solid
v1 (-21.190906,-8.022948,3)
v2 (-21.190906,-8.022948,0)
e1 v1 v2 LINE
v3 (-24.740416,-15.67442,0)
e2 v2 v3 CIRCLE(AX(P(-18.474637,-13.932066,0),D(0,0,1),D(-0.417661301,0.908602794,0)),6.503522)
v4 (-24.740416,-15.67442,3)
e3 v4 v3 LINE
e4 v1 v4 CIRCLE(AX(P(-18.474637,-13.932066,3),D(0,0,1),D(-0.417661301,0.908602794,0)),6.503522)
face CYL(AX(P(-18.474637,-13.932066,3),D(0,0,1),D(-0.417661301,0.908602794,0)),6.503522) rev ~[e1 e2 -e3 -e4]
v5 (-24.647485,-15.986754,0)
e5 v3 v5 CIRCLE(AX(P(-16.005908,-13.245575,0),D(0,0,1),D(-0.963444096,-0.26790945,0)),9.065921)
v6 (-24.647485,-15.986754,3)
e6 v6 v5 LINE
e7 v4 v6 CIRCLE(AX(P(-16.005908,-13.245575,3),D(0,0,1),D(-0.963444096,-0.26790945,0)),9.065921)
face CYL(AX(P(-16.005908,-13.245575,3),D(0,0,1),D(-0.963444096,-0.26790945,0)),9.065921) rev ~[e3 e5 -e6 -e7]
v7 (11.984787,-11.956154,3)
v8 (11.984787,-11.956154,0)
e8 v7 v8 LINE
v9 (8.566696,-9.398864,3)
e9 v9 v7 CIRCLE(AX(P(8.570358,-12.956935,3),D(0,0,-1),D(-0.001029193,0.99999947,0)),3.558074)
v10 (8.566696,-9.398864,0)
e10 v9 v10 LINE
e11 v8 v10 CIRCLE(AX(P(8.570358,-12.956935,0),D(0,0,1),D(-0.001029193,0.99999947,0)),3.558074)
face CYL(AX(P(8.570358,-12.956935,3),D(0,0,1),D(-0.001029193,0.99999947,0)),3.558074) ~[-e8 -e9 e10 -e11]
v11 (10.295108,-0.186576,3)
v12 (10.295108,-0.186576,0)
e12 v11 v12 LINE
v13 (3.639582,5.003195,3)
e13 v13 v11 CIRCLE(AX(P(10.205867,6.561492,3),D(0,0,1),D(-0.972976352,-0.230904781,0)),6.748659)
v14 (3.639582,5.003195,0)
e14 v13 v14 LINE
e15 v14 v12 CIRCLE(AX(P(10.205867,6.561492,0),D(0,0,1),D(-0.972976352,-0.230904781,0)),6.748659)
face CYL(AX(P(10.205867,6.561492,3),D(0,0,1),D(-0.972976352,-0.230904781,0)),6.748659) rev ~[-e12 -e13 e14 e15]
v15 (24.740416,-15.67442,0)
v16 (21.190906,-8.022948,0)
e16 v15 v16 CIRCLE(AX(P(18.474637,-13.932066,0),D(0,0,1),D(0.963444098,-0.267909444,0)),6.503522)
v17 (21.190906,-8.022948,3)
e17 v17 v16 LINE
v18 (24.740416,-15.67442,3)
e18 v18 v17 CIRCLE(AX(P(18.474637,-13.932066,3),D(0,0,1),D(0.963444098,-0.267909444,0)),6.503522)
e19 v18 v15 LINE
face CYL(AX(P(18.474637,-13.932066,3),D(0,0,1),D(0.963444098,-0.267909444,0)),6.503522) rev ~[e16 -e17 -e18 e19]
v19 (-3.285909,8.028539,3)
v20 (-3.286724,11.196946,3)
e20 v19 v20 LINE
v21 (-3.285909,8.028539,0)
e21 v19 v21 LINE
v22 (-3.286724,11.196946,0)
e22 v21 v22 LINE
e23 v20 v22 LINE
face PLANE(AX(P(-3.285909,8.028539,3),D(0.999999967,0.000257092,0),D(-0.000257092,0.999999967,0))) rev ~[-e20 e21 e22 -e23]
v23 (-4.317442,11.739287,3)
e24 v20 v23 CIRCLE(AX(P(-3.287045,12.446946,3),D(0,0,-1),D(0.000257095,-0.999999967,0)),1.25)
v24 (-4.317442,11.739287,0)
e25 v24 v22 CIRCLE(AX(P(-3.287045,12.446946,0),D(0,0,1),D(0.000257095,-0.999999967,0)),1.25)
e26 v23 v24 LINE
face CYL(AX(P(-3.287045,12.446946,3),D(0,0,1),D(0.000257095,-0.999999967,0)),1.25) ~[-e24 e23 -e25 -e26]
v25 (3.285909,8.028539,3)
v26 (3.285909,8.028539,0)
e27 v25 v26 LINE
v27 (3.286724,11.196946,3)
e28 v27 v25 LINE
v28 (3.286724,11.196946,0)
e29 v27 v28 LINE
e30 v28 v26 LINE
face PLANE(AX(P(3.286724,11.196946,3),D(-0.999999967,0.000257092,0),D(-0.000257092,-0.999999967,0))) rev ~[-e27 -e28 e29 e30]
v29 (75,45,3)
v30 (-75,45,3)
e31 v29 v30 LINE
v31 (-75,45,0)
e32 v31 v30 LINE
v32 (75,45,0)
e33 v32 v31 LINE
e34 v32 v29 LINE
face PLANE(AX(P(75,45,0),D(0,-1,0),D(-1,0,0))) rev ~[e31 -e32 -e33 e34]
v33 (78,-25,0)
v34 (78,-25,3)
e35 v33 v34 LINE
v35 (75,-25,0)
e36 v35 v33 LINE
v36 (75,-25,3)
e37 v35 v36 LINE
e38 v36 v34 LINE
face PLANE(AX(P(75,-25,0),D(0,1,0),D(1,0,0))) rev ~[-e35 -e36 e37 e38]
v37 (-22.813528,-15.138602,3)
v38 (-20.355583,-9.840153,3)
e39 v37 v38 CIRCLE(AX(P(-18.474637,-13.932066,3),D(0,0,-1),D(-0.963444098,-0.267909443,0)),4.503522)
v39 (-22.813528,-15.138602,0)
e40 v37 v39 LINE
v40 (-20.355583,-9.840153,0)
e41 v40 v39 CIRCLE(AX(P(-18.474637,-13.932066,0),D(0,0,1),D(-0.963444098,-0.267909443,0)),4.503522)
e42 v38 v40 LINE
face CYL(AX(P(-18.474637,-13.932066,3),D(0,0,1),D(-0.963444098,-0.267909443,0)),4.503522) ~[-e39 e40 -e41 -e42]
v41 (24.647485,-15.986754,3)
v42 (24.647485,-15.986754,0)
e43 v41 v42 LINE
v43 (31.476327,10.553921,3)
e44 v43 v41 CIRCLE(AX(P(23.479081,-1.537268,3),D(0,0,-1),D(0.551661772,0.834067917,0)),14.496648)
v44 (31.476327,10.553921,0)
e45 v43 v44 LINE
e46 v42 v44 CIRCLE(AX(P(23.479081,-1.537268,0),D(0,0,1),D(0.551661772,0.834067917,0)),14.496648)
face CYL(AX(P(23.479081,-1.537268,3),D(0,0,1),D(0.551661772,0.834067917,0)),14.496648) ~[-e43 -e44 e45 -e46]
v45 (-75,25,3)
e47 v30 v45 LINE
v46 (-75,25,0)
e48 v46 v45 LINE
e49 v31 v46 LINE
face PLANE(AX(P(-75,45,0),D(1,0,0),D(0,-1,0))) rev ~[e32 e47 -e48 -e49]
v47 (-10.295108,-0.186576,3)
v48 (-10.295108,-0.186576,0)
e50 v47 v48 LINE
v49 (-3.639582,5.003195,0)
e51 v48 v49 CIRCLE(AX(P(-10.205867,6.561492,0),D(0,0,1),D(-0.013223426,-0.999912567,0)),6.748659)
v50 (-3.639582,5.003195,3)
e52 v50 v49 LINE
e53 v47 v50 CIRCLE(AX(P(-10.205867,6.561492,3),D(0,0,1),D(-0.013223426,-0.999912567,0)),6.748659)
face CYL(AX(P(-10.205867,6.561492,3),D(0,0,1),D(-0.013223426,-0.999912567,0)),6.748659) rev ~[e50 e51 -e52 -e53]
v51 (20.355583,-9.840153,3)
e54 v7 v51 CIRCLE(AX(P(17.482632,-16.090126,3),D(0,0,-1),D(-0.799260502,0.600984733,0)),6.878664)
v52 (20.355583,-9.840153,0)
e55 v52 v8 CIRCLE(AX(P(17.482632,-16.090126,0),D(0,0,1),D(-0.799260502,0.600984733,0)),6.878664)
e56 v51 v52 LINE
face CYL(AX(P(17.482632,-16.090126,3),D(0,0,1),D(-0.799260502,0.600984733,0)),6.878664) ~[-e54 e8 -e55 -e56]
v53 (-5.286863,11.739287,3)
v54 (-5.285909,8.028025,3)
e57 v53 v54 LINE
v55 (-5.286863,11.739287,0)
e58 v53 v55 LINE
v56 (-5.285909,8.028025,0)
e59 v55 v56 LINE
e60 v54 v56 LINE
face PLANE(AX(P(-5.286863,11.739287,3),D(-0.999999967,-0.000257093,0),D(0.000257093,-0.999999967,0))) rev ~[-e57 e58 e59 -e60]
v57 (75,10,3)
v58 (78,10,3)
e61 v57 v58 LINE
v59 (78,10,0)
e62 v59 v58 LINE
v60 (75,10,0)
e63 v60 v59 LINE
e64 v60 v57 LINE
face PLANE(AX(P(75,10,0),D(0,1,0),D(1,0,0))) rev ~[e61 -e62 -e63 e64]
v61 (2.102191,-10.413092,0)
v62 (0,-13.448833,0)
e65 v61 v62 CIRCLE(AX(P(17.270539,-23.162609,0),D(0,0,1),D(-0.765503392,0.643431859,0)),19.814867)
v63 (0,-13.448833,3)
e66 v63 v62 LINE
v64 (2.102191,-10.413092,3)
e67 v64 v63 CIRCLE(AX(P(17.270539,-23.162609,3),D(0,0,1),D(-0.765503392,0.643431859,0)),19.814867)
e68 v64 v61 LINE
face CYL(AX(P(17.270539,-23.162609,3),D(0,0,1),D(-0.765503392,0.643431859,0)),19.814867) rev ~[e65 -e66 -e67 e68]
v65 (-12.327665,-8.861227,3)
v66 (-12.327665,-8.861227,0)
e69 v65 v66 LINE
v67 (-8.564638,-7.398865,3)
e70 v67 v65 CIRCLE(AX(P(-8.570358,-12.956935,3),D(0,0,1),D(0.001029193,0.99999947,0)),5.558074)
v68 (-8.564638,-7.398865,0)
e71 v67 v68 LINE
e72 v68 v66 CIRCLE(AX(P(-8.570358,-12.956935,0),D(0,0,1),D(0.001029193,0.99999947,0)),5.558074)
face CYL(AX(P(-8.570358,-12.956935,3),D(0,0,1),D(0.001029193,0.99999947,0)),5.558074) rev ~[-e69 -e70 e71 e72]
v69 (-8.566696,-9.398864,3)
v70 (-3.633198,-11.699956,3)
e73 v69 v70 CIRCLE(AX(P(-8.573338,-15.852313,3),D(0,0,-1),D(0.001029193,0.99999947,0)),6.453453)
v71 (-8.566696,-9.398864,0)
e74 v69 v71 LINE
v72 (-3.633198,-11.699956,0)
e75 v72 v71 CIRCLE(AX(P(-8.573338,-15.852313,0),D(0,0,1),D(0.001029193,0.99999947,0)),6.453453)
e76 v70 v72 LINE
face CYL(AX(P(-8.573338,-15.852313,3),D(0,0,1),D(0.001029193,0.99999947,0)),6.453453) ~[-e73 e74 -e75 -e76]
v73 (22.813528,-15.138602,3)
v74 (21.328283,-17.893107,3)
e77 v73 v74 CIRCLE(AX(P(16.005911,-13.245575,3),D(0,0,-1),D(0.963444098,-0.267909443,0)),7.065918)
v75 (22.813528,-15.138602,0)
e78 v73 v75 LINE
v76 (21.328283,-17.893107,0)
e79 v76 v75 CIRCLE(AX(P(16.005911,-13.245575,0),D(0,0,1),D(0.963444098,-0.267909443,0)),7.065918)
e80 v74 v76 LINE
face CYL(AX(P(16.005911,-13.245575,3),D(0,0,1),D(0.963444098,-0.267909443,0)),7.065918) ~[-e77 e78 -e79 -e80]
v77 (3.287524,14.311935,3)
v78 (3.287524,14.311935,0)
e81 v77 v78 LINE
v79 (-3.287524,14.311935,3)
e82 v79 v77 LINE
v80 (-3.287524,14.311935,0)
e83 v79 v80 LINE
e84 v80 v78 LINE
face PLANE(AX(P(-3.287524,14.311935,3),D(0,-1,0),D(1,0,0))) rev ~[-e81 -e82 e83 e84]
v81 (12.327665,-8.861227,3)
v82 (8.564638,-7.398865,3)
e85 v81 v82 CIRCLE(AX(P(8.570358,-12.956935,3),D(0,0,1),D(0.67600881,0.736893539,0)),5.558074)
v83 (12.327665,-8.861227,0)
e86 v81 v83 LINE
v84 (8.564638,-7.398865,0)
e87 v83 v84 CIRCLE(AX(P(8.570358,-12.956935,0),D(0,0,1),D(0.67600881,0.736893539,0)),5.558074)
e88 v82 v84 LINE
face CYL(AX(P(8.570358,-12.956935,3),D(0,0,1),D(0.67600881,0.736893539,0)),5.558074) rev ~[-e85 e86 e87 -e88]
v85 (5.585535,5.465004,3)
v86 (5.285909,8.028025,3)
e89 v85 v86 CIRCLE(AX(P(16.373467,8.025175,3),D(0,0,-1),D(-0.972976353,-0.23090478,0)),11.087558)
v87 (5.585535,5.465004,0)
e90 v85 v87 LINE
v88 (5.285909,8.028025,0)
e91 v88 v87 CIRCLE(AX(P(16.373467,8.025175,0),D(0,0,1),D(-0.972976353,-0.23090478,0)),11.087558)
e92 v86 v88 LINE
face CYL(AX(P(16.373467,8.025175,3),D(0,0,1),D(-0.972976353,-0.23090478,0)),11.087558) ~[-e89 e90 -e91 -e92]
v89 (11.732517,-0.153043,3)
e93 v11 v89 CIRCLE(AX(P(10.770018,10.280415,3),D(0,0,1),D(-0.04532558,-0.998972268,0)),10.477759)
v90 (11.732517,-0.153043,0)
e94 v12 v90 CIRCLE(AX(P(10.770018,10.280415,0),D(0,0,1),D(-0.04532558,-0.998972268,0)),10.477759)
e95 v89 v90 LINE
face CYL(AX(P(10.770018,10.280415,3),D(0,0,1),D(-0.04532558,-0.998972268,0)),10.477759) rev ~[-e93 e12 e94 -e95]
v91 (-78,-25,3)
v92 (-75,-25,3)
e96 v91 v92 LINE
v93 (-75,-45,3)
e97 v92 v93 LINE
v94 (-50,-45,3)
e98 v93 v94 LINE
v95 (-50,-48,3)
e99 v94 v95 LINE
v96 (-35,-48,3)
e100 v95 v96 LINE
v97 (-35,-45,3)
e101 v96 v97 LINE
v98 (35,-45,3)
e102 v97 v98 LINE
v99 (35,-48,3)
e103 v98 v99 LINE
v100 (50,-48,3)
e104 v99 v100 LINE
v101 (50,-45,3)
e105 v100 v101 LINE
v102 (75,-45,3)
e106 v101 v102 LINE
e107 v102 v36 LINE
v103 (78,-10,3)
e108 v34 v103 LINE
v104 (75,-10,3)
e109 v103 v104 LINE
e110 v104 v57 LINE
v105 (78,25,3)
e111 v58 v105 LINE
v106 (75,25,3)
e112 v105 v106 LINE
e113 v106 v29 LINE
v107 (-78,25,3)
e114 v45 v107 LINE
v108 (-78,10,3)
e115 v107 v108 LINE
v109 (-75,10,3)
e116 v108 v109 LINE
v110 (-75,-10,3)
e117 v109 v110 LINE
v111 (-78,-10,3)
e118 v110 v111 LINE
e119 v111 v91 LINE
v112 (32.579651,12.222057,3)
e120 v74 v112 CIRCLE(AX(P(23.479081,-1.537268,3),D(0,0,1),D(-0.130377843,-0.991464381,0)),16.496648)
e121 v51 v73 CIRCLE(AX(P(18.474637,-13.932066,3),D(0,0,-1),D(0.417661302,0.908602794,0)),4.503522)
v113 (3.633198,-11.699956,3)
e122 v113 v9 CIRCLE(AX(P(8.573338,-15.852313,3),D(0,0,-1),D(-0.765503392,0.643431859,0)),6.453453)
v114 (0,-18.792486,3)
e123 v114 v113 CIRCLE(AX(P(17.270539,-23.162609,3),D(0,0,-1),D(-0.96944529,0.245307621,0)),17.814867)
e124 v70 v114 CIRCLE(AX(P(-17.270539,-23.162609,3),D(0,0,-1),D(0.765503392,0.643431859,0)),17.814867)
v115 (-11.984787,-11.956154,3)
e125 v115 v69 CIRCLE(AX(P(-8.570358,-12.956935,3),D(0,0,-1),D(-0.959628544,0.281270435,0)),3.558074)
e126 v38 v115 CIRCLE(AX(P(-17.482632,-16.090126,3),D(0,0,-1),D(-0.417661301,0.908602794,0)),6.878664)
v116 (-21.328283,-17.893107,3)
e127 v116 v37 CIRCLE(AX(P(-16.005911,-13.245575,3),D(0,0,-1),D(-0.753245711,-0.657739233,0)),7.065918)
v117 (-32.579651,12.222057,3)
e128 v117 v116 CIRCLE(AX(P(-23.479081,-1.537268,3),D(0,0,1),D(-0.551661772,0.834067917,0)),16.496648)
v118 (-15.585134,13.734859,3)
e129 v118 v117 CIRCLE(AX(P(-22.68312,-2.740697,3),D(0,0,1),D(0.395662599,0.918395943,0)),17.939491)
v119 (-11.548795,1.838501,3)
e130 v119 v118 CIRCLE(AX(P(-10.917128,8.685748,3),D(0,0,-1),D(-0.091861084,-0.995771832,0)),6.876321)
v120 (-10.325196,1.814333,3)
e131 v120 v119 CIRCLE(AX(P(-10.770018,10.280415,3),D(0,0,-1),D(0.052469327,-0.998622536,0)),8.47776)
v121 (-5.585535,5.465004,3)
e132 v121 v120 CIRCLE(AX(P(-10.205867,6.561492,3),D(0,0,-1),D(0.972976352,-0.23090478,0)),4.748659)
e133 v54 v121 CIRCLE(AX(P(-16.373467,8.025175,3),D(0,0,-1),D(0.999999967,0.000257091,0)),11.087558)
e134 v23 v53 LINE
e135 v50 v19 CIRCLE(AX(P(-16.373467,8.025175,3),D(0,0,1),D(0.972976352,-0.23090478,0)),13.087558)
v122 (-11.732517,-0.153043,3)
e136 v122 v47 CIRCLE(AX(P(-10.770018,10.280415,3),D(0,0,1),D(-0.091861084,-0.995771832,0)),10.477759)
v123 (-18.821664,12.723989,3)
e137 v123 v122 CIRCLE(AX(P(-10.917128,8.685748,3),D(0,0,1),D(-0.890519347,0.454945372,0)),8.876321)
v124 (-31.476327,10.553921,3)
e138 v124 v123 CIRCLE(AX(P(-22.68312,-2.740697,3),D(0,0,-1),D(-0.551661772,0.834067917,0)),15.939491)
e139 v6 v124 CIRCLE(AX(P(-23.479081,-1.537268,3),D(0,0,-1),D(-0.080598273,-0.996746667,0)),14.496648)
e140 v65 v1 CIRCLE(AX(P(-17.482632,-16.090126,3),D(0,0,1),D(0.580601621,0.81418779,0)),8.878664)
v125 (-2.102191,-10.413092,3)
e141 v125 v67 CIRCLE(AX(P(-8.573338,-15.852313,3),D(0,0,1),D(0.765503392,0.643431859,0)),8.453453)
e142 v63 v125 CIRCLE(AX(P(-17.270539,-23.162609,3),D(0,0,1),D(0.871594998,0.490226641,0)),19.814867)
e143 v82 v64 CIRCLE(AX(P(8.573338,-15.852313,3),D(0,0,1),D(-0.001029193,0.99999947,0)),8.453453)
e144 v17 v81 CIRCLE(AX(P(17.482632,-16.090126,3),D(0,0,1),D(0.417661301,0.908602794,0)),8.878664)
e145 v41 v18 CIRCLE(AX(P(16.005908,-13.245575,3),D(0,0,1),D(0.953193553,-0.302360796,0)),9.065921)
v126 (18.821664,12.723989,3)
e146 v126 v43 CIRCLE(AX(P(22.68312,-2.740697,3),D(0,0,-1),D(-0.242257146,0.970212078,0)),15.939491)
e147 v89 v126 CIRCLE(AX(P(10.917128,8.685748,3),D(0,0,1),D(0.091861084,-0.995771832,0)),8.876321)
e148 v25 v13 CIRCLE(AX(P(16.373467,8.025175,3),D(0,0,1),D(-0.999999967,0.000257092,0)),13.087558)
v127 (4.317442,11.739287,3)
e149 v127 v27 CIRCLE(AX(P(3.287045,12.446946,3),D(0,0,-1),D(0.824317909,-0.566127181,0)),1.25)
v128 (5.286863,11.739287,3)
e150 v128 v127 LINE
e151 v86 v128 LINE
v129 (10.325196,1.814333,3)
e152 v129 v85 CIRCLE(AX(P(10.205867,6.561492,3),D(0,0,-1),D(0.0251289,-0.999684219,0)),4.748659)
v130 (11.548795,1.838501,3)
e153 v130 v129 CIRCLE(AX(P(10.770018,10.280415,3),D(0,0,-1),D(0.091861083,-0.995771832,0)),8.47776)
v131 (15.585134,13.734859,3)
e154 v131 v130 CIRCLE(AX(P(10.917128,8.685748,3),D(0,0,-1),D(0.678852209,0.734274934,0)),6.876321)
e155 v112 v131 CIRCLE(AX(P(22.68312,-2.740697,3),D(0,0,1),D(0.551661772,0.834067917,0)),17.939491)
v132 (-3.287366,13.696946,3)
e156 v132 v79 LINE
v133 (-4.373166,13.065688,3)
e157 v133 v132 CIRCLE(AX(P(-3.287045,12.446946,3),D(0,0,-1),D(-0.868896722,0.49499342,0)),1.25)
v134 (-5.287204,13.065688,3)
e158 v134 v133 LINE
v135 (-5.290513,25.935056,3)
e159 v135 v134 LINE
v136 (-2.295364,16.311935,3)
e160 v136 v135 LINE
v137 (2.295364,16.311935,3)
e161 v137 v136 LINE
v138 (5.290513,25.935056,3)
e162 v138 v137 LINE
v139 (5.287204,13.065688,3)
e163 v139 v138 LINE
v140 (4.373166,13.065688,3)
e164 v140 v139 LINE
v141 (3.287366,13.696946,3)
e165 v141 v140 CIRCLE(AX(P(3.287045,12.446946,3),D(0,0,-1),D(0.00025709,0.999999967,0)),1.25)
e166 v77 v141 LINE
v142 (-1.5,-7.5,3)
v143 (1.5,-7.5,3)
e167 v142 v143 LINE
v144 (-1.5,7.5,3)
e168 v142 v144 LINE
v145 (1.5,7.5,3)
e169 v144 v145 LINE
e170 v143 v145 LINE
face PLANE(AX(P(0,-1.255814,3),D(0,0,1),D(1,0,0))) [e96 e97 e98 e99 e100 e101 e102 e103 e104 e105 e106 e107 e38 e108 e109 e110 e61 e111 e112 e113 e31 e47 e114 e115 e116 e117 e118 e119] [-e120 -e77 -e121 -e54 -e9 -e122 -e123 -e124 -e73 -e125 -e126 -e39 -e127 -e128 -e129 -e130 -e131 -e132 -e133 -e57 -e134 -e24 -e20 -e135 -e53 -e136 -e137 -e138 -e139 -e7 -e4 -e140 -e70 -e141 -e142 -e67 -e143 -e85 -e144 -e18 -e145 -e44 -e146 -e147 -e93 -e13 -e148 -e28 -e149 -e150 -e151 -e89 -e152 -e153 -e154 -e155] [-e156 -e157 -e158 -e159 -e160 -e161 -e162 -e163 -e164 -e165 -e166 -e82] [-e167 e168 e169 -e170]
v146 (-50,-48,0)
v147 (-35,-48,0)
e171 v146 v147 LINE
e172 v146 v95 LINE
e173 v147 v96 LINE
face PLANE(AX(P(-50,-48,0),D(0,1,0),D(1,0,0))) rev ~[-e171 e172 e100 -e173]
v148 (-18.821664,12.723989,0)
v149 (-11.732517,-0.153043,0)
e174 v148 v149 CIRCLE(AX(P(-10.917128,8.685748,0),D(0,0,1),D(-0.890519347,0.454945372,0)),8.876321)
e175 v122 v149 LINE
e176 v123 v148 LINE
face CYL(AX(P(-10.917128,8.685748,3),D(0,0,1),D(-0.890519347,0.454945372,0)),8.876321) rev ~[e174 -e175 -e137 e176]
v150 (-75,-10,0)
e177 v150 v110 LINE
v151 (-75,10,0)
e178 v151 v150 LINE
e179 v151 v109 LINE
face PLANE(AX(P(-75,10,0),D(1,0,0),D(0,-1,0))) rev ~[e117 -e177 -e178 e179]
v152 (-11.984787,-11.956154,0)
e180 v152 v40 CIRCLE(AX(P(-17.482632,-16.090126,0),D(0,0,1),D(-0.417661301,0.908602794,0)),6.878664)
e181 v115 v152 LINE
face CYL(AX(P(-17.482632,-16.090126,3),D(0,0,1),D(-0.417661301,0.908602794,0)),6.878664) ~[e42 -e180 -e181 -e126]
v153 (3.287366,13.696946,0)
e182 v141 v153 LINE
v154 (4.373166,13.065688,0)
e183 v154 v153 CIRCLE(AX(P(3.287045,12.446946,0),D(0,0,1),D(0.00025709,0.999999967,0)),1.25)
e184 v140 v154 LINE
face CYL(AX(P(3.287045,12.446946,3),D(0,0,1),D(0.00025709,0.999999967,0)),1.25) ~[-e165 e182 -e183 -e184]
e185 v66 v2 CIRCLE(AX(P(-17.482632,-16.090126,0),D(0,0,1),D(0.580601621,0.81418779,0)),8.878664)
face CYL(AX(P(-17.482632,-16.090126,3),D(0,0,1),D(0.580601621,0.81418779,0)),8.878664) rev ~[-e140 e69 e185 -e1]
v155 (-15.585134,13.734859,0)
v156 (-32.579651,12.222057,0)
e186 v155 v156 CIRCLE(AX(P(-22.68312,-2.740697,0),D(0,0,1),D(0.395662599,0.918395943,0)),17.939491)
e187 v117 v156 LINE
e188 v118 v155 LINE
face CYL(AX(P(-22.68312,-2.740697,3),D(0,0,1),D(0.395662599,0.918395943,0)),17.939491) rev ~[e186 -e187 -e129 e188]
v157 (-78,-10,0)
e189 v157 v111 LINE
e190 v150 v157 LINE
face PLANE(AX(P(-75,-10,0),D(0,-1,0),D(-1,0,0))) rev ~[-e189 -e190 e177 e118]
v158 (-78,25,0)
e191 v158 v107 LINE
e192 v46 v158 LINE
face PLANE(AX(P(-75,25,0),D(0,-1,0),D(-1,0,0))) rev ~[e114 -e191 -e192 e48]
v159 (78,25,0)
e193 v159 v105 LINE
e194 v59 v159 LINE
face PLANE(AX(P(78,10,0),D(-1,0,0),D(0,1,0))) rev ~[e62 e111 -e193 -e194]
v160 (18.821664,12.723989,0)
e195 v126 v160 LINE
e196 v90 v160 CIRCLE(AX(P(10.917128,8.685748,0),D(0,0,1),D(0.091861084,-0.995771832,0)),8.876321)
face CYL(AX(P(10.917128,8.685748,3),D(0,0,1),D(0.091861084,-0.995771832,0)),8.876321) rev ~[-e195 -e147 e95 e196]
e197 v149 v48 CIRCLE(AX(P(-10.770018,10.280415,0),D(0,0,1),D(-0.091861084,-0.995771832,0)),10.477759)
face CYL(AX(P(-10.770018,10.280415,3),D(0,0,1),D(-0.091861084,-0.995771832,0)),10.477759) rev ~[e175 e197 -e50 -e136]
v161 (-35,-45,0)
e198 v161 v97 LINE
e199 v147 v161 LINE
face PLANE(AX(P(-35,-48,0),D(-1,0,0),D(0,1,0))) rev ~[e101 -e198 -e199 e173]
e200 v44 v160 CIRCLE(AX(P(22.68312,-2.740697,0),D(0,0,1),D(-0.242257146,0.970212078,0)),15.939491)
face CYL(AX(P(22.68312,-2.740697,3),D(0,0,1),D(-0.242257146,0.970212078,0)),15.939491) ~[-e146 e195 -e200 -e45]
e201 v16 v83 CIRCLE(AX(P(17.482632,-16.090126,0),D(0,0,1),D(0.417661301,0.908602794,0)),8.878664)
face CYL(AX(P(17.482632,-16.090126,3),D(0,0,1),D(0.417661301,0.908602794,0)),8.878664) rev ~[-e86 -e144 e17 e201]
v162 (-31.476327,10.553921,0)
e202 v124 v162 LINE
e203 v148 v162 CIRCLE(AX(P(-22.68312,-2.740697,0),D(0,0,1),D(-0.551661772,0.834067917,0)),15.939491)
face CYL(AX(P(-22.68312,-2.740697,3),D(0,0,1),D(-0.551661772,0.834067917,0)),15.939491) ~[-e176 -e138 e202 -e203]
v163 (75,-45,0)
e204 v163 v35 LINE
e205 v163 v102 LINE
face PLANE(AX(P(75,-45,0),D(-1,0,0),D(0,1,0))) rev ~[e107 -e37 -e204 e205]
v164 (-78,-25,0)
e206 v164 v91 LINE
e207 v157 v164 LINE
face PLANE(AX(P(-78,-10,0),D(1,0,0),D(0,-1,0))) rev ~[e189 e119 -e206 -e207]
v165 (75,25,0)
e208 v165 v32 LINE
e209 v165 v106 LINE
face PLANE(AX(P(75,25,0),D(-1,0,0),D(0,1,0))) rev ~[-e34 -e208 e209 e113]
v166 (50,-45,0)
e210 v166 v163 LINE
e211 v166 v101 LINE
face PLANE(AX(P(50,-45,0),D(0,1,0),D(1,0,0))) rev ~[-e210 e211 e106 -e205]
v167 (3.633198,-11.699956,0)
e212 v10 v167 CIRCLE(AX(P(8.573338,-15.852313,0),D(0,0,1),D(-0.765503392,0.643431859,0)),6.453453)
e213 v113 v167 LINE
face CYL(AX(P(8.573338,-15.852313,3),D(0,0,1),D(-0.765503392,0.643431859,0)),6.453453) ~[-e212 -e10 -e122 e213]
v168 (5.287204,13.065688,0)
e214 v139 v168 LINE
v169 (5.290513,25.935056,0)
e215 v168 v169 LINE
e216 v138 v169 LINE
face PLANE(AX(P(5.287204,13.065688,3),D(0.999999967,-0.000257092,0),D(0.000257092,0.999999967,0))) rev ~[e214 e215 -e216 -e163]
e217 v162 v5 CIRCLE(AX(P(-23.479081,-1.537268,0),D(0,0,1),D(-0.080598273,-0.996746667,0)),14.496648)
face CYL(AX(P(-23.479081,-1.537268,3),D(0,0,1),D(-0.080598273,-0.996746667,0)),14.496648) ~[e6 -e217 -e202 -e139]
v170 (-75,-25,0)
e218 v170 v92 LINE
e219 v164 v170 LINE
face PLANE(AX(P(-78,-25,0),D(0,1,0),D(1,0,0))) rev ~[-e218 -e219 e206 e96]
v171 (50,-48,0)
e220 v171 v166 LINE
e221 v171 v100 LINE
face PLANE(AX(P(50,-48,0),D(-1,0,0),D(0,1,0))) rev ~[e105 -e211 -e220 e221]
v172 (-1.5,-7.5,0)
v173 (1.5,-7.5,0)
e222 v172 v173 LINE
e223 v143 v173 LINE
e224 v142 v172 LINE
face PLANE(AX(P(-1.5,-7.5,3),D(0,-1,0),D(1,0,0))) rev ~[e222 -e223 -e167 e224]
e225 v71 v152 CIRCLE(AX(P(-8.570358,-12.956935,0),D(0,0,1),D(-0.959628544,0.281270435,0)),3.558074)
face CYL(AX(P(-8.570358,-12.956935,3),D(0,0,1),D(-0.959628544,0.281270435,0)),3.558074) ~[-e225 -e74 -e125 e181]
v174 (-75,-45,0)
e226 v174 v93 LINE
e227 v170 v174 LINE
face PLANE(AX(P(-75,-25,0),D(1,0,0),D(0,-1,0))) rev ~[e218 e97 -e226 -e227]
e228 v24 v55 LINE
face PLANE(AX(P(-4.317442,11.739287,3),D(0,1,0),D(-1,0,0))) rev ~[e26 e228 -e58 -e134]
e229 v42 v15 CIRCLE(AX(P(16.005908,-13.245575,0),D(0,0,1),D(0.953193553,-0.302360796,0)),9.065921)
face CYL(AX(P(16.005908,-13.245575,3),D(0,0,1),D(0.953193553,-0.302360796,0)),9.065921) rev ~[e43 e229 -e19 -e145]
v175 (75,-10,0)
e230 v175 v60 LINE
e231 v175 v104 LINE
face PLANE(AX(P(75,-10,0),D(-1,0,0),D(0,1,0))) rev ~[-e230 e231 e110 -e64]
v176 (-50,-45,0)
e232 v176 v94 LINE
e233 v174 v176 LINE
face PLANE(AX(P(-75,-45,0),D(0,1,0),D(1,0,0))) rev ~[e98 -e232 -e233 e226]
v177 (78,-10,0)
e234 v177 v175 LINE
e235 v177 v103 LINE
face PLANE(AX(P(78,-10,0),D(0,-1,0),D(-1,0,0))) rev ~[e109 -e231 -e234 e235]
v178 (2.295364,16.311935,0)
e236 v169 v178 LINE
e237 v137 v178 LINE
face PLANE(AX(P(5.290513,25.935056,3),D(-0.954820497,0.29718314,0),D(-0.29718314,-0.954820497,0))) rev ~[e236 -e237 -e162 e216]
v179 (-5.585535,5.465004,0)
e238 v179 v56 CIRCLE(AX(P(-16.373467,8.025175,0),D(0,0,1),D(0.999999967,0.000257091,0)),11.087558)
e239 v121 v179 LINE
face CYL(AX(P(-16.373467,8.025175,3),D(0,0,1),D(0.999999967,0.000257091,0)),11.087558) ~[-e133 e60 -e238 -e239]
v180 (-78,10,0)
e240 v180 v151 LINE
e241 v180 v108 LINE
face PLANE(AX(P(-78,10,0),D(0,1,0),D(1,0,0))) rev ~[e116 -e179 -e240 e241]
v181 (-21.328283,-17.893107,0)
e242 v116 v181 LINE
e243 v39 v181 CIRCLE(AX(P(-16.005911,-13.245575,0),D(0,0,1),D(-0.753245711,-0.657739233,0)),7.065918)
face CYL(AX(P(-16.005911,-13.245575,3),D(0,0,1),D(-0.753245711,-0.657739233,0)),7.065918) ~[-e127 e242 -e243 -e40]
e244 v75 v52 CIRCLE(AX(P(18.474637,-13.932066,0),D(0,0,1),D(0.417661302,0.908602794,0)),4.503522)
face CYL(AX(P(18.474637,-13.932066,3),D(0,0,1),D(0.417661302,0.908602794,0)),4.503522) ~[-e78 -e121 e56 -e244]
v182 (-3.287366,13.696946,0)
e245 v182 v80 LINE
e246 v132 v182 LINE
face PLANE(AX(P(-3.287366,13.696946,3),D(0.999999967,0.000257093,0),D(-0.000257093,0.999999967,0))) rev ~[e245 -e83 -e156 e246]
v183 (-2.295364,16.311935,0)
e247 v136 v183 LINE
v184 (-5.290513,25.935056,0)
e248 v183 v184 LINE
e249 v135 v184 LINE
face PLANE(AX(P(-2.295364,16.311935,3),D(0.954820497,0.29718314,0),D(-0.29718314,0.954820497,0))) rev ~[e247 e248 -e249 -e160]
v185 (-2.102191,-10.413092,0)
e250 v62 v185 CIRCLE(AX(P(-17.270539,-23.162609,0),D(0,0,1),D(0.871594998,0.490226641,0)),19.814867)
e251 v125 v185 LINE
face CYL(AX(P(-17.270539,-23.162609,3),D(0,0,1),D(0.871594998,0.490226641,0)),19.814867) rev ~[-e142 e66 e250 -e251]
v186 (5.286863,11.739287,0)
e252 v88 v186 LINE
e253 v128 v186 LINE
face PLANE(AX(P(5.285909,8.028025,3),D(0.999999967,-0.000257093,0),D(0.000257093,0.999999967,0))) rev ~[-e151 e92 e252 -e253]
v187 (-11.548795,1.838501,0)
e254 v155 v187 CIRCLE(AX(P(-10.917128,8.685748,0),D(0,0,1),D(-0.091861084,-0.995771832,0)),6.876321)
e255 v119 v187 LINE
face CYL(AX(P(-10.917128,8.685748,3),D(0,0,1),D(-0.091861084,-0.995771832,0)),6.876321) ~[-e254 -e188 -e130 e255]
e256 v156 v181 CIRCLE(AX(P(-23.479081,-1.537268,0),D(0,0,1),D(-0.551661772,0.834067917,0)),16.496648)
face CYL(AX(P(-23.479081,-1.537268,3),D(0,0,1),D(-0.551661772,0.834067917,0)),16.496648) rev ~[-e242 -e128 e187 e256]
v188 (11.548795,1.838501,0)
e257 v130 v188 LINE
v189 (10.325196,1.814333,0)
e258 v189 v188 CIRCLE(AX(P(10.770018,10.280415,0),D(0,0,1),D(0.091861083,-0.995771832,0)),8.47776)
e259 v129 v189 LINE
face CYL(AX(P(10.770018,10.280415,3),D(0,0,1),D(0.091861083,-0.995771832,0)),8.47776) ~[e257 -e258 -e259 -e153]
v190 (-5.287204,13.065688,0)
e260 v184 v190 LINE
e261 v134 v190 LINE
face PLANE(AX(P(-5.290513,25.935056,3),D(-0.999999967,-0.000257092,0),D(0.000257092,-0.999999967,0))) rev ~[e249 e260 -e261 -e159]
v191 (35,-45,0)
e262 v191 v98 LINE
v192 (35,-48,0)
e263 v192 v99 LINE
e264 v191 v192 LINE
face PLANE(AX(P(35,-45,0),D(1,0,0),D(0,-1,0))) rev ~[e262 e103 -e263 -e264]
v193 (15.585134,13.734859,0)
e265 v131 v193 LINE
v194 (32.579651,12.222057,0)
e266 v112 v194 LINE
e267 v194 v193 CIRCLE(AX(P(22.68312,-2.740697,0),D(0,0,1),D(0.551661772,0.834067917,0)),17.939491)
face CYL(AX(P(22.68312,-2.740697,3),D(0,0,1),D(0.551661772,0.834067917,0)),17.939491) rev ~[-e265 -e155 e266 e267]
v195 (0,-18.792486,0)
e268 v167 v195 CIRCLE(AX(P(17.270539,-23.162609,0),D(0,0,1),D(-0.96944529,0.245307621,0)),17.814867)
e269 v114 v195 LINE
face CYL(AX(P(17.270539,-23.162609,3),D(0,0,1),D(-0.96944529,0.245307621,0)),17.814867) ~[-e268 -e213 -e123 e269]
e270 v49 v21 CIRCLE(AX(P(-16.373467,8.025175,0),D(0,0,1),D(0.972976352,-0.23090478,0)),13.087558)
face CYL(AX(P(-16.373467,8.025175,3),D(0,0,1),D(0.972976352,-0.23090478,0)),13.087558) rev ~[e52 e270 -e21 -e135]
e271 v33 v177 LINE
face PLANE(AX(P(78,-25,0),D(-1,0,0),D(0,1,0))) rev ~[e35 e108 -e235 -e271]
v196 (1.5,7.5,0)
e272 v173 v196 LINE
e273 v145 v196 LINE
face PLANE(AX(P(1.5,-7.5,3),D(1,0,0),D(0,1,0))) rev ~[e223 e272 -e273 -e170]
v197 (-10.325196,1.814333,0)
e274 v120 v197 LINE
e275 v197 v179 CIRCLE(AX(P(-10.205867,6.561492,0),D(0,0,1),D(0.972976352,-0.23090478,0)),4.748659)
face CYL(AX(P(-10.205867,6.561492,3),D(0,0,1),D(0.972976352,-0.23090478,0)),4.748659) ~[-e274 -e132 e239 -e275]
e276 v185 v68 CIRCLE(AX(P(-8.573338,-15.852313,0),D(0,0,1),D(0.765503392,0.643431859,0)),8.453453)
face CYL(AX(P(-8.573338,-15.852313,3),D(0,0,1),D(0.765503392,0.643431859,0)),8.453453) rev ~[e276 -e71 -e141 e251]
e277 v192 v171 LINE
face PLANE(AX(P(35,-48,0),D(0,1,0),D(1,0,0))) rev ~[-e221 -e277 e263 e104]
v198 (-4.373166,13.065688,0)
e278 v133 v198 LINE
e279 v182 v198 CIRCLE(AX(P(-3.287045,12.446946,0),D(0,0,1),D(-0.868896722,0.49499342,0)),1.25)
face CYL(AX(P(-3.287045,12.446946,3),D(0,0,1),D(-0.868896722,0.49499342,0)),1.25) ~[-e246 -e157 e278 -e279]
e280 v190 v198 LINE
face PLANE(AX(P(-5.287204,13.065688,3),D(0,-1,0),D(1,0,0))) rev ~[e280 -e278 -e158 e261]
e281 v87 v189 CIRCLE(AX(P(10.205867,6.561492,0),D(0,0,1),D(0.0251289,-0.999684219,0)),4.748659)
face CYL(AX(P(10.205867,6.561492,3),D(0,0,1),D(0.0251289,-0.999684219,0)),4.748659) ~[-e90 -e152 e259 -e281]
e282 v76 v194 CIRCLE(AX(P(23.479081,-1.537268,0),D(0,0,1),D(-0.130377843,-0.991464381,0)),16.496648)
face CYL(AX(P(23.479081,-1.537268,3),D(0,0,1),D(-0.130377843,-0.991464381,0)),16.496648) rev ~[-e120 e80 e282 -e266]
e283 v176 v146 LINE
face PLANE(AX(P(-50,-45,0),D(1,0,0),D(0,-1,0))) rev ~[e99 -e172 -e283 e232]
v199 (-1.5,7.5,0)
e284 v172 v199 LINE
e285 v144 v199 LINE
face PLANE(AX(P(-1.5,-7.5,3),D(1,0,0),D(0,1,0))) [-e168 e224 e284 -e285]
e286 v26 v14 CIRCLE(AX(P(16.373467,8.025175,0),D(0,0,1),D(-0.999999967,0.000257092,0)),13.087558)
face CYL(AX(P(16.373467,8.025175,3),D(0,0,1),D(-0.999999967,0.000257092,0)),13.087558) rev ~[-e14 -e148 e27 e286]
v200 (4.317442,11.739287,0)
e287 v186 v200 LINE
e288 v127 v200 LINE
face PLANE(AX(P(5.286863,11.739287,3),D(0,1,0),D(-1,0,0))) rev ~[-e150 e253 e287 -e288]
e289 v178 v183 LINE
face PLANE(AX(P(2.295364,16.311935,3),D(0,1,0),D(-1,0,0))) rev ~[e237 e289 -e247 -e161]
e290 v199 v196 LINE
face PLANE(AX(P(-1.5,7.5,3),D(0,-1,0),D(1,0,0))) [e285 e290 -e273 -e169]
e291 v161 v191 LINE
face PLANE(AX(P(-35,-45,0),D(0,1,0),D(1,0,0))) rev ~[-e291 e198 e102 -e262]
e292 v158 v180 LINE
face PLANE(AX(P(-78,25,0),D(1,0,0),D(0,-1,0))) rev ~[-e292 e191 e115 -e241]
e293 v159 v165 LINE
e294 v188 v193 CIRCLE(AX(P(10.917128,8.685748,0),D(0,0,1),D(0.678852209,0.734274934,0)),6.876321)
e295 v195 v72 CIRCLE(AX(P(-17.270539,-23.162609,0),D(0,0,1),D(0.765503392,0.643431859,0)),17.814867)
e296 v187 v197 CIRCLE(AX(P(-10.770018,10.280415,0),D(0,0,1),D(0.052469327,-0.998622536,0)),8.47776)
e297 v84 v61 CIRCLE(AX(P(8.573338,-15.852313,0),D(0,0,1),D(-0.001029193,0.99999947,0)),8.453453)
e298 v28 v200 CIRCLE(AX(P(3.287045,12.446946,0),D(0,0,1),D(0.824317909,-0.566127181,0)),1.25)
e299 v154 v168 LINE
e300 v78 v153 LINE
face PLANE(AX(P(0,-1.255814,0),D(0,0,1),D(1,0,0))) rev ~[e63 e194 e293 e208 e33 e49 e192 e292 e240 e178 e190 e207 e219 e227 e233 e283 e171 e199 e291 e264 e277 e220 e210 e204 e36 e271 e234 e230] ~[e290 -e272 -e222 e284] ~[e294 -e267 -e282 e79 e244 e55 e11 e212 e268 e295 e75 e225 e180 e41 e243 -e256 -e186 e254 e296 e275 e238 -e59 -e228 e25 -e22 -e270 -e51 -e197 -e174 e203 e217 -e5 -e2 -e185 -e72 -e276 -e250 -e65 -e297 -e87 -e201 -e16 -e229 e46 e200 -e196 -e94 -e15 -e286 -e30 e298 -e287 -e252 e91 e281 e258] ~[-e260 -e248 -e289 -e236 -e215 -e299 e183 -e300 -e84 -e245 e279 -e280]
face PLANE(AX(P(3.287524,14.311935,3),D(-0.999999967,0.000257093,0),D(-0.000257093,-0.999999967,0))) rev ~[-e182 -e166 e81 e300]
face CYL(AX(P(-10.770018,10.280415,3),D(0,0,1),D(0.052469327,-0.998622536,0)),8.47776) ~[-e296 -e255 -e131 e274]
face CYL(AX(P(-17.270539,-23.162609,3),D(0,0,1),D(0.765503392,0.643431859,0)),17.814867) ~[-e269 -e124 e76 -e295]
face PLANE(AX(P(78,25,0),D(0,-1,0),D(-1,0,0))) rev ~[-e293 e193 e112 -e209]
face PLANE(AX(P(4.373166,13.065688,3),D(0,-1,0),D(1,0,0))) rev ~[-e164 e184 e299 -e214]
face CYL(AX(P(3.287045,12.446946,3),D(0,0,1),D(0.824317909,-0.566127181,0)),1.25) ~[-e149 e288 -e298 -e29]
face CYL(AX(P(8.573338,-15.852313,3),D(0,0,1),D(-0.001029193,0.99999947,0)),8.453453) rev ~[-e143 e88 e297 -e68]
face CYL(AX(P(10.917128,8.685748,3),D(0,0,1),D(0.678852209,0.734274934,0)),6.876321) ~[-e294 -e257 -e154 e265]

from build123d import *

# Parameters (mm, degrees)
BOSS_EXTRUDE1_DEPTH = 3
SKETCH2_W           = 3
SKETCH2_H           = 15
CUT_EXTRUDE1_DEPTH  = 10
CUT_EXTRUDE5_DEPTH  = 10


with BuildPart() as part:
    # Sketch1 → Boss-Extrude1 (new body)
    with BuildSketch(Plane.XY):
        Polygon((75, 45), (-75, 45), (-75, 25), (-78, 25), (-78, 10), (-75, 10), (-75, -10), (-78, -10), (-78, -25), (-75, -25), (-75, -45), (-50, -45), (-50, -48), (-35, -48), (-35, -45), (35, -45), (35, -48), (50, -48), (50, -45), (75, -45), (75, -25), (78, -25), (78, -10), (75, -10), (75, 10), (78, 10), (78, 25), (75, 25), align=None)
    extrude(amount=BOSS_EXTRUDE1_DEPTH)

    # Sketch2 → Cut-Extrude1 (cut)
    with BuildSketch(Plane.XY.offset(3)):
        Rectangle(SKETCH2_W, SKETCH2_H)
    extrude(amount=-CUT_EXTRUDE1_DEPTH, mode=Mode.SUBTRACT)

    # Sketch6 → Cut-Extrude5 (cut)
    with BuildSketch(Plane.XY.offset(3)):
        with BuildLine():
            Line((5.290512726, 25.935056248), (2.295363862, 16.311934545))
            Line((2.295363862, 16.311934545), (-2.295363862, 16.311934545))
            Line((-2.295363862, 16.311934545), (-5.290512726, 25.935056248))
            Line((-5.290512726, 25.935056248), (-5.287204108, 13.065687756))
            Line((-5.287204108, 13.065687756), (-4.373165869, 13.065687756))
            ThreePointArc((-4.373165869, 13.065687756), (-3.915305203, 13.527588879), (-3.287366333, 13.696945937))
            Line((-3.287366333, 13.696945937), (-3.287524442, 14.311934545))
            Line((-3.287524442, 14.311934545), (3.287524442, 14.311934545))
            Line((3.287524442, 14.311934545), (3.287366333, 13.696945937))
            ThreePointArc((3.287366333, 13.696945937), (3.915305203, 13.527588879), (4.373165869, 13.065687756))
            Line((4.373165869, 13.065687756), (5.287204108, 13.065687756))
            Line((5.287204108, 13.065687756), (5.290512726, 25.935056248))
        make_face()
        with BuildLine():
            Line((5.285908962, 8.028025182), (5.2868631, 11.739287))
            Line((5.2868631, 11.739287), (4.317442352, 11.739287))
            ThreePointArc((4.317442352, 11.739287), (3.869108183, 11.340735142), (3.286723602, 11.19694602))
            Line((3.286723602, 11.19694602), (3.285909029, 8.028539367))
            ThreePointArc((3.285909029, 8.028539367), (3.374432245, 6.505542997), (3.639582158, 5.003194892))
            ThreePointArc((3.639582158, 5.003194892), (6.055992917, 1.239562801), (10.295107821, -0.186576152))
            ThreePointArc((10.295107821, -0.186576152), (11.01438813, -0.194494412), (11.732516685, -0.153042755))
            ThreePointArc((11.732516685, -0.153042755), (18.692972821, 4.404939535), (18.821664118, 12.723989405))
            ThreePointArc((18.821664118, 12.723989405), (25.37715821, 12.9694755), (31.476327164, 10.553920845))
            ThreePointArc((31.476327164, 10.553920845), (37.518458896, -5.149561028), (24.647485484, -15.98675357))
            ThreePointArc((24.647485484, -15.98675357), (24.695354215, -15.831004559), (24.740416096, -15.674420407))
            ThreePointArc((24.740416096, -15.674420407), (24.374260224, -11.19523634), (21.190905903, -8.022947688))
            ThreePointArc((21.190905903, -8.022947688), (16.646624705, -7.250909085), (12.327665086, -8.861226761))
            ThreePointArc((12.327665086, -8.861226761), (10.583620787, -7.776302438), (8.564637884, -7.398864573))
            ThreePointArc((8.564637884, -7.398864573), (5.000034739, -8.19121848), (2.10219111, -10.413092149))
            ThreePointArc((2.10219111, -10.413092149), (0.980226646, -11.88188736), (0, -13.448833229))
            ThreePointArc((0, -13.448833229), (-0.980226646, -11.88188736), (-2.10219111, -10.413092149))
            ThreePointArc((-2.10219111, -10.413092149), (-5.000034739, -8.19121848), (-8.564637884, -7.398864573))
            ThreePointArc((-8.564637884, -7.398864573), (-10.583620787, -7.776302438), (-12.327665086, -8.861226761))
            ThreePointArc((-12.327665086, -8.861226761), (-16.646624705, -7.250909085), (-21.190905903, -8.022947688))
            ThreePointArc((-21.190905903, -8.022947688), (-24.374260224, -11.19523634), (-24.740416096, -15.674420407))
            ThreePointArc((-24.740416096, -15.674420407), (-24.695354215, -15.831004559), (-24.647485484, -15.98675357))
            ThreePointArc((-24.647485484, -15.98675357), (-37.518458896, -5.149561028), (-31.476327164, 10.553920845))
            ThreePointArc((-31.476327164, 10.553920845), (-25.37715821, 12.9694755), (-18.821664118, 12.723989405))
            ThreePointArc((-18.821664118, 12.723989405), (-18.692972821, 4.404939535), (-11.732516685, -0.153042755))
            ThreePointArc((-11.732516685, -0.153042755), (-11.01438813, -0.194494412), (-10.295107821, -0.186576152))
            ThreePointArc((-10.295107821, -0.186576152), (-6.055992917, 1.239562801), (-3.639582158, 5.003194892))
            ThreePointArc((-3.639582158, 5.003194892), (-3.374432245, 6.505542997), (-3.285909029, 8.028539367))
            Line((-3.285909029, 8.028539367), (-3.286723602, 11.19694602))
            ThreePointArc((-3.286723602, 11.19694602), (-3.869108183, 11.340735142), (-4.317442352, 11.739287))
            Line((-4.317442352, 11.739287), (-5.2868631, 11.739287))
            Line((-5.2868631, 11.739287), (-5.285908962, 8.028025182))
            ThreePointArc((-5.285908962, 8.028025182), (-5.360904336, 6.737768387), (-5.585534863, 5.465004453))
            ThreePointArc((-5.585534863, 5.465004453), (-7.308177113, 2.799425217), (-10.325195997, 1.814333325))
            ThreePointArc((-10.325195997, 1.814333325), (-10.937431926, 1.804308669), (-11.548794517, 1.838500909))
            ThreePointArc((-11.548794517, 1.838500909), (-17.428845514, 6.476374098), (-15.585134149, 13.734858501))
            ThreePointArc((-15.585134149, 13.734858501), (-24.273750539, 15.128136766), (-32.579650708, 12.222056678))
            ThreePointArc((-32.579650708, 12.222056678), (-38.93241703, -7.310810177), (-21.328283314, -17.893106884))
            ThreePointArc((-21.328283314, -17.893106884), (-22.225314868, -16.599112533), (-22.8135279, -15.138601519))
            ThreePointArc((-22.8135279, -15.138601519), (-22.559974367, -12.036881652), (-20.355583301, -9.840153276))
            ThreePointArc((-20.355583301, -9.840153276), (-15.796843839, -9.421233335), (-11.984787413, -11.956154477))
            ThreePointArc((-11.984787413, -11.956154477), (-10.701852428, -10.107966912), (-8.56669627, -9.398863514))
            ThreePointArc((-8.56669627, -9.398863514), (-5.845441544, -10.003754641), (-3.633197893, -11.699955866))
            ThreePointArc((-3.633197893, -11.699955866), (-1.414932414, -15.040464669), (0, -18.7924864))
            ThreePointArc((0, -18.7924864), (1.414932414, -15.040464669), (3.633197893, -11.699955866))
            ThreePointArc((3.633197893, -11.699955866), (5.845441544, -10.003754641), (8.56669627, -9.398863514))
            ThreePointArc((8.56669627, -9.398863514), (10.701852428, -10.107966912), (11.984787413, -11.956154477))
            ThreePointArc((11.984787413, -11.956154477), (15.796843839, -9.421233335), (20.355583301, -9.840153276))
            ThreePointArc((20.355583301, -9.840153276), (22.559974367, -12.036881652), (22.8135279, -15.138601519))
            ThreePointArc((22.8135279, -15.138601519), (22.225314868, -16.599112533), (21.328283314, -17.893106884))
            ThreePointArc((21.328283314, -17.893106884), (38.93241703, -7.310810177), (32.579650708, 12.222056678))
            ThreePointArc((32.579650708, 12.222056678), (24.273750539, 15.128136766), (15.585134149, 13.734858501))
            ThreePointArc((15.585134149, 13.734858501), (17.428845514, 6.476374098), (11.548794517, 1.838500909))
            ThreePointArc((11.548794517, 1.838500909), (10.937431926, 1.804308669), (10.325195997, 1.814333325))
            ThreePointArc((10.325195997, 1.814333325), (7.308177113, 2.799425217), (5.585534863, 5.465004453))
            ThreePointArc((5.585534863, 5.465004453), (5.360904336, 6.737768387), (5.285908962, 8.028025182))
        make_face()
    extrude(amount=-CUT_EXTRUDE5_DEPTH, mode=Mode.SUBTRACT)


solid = part.part
